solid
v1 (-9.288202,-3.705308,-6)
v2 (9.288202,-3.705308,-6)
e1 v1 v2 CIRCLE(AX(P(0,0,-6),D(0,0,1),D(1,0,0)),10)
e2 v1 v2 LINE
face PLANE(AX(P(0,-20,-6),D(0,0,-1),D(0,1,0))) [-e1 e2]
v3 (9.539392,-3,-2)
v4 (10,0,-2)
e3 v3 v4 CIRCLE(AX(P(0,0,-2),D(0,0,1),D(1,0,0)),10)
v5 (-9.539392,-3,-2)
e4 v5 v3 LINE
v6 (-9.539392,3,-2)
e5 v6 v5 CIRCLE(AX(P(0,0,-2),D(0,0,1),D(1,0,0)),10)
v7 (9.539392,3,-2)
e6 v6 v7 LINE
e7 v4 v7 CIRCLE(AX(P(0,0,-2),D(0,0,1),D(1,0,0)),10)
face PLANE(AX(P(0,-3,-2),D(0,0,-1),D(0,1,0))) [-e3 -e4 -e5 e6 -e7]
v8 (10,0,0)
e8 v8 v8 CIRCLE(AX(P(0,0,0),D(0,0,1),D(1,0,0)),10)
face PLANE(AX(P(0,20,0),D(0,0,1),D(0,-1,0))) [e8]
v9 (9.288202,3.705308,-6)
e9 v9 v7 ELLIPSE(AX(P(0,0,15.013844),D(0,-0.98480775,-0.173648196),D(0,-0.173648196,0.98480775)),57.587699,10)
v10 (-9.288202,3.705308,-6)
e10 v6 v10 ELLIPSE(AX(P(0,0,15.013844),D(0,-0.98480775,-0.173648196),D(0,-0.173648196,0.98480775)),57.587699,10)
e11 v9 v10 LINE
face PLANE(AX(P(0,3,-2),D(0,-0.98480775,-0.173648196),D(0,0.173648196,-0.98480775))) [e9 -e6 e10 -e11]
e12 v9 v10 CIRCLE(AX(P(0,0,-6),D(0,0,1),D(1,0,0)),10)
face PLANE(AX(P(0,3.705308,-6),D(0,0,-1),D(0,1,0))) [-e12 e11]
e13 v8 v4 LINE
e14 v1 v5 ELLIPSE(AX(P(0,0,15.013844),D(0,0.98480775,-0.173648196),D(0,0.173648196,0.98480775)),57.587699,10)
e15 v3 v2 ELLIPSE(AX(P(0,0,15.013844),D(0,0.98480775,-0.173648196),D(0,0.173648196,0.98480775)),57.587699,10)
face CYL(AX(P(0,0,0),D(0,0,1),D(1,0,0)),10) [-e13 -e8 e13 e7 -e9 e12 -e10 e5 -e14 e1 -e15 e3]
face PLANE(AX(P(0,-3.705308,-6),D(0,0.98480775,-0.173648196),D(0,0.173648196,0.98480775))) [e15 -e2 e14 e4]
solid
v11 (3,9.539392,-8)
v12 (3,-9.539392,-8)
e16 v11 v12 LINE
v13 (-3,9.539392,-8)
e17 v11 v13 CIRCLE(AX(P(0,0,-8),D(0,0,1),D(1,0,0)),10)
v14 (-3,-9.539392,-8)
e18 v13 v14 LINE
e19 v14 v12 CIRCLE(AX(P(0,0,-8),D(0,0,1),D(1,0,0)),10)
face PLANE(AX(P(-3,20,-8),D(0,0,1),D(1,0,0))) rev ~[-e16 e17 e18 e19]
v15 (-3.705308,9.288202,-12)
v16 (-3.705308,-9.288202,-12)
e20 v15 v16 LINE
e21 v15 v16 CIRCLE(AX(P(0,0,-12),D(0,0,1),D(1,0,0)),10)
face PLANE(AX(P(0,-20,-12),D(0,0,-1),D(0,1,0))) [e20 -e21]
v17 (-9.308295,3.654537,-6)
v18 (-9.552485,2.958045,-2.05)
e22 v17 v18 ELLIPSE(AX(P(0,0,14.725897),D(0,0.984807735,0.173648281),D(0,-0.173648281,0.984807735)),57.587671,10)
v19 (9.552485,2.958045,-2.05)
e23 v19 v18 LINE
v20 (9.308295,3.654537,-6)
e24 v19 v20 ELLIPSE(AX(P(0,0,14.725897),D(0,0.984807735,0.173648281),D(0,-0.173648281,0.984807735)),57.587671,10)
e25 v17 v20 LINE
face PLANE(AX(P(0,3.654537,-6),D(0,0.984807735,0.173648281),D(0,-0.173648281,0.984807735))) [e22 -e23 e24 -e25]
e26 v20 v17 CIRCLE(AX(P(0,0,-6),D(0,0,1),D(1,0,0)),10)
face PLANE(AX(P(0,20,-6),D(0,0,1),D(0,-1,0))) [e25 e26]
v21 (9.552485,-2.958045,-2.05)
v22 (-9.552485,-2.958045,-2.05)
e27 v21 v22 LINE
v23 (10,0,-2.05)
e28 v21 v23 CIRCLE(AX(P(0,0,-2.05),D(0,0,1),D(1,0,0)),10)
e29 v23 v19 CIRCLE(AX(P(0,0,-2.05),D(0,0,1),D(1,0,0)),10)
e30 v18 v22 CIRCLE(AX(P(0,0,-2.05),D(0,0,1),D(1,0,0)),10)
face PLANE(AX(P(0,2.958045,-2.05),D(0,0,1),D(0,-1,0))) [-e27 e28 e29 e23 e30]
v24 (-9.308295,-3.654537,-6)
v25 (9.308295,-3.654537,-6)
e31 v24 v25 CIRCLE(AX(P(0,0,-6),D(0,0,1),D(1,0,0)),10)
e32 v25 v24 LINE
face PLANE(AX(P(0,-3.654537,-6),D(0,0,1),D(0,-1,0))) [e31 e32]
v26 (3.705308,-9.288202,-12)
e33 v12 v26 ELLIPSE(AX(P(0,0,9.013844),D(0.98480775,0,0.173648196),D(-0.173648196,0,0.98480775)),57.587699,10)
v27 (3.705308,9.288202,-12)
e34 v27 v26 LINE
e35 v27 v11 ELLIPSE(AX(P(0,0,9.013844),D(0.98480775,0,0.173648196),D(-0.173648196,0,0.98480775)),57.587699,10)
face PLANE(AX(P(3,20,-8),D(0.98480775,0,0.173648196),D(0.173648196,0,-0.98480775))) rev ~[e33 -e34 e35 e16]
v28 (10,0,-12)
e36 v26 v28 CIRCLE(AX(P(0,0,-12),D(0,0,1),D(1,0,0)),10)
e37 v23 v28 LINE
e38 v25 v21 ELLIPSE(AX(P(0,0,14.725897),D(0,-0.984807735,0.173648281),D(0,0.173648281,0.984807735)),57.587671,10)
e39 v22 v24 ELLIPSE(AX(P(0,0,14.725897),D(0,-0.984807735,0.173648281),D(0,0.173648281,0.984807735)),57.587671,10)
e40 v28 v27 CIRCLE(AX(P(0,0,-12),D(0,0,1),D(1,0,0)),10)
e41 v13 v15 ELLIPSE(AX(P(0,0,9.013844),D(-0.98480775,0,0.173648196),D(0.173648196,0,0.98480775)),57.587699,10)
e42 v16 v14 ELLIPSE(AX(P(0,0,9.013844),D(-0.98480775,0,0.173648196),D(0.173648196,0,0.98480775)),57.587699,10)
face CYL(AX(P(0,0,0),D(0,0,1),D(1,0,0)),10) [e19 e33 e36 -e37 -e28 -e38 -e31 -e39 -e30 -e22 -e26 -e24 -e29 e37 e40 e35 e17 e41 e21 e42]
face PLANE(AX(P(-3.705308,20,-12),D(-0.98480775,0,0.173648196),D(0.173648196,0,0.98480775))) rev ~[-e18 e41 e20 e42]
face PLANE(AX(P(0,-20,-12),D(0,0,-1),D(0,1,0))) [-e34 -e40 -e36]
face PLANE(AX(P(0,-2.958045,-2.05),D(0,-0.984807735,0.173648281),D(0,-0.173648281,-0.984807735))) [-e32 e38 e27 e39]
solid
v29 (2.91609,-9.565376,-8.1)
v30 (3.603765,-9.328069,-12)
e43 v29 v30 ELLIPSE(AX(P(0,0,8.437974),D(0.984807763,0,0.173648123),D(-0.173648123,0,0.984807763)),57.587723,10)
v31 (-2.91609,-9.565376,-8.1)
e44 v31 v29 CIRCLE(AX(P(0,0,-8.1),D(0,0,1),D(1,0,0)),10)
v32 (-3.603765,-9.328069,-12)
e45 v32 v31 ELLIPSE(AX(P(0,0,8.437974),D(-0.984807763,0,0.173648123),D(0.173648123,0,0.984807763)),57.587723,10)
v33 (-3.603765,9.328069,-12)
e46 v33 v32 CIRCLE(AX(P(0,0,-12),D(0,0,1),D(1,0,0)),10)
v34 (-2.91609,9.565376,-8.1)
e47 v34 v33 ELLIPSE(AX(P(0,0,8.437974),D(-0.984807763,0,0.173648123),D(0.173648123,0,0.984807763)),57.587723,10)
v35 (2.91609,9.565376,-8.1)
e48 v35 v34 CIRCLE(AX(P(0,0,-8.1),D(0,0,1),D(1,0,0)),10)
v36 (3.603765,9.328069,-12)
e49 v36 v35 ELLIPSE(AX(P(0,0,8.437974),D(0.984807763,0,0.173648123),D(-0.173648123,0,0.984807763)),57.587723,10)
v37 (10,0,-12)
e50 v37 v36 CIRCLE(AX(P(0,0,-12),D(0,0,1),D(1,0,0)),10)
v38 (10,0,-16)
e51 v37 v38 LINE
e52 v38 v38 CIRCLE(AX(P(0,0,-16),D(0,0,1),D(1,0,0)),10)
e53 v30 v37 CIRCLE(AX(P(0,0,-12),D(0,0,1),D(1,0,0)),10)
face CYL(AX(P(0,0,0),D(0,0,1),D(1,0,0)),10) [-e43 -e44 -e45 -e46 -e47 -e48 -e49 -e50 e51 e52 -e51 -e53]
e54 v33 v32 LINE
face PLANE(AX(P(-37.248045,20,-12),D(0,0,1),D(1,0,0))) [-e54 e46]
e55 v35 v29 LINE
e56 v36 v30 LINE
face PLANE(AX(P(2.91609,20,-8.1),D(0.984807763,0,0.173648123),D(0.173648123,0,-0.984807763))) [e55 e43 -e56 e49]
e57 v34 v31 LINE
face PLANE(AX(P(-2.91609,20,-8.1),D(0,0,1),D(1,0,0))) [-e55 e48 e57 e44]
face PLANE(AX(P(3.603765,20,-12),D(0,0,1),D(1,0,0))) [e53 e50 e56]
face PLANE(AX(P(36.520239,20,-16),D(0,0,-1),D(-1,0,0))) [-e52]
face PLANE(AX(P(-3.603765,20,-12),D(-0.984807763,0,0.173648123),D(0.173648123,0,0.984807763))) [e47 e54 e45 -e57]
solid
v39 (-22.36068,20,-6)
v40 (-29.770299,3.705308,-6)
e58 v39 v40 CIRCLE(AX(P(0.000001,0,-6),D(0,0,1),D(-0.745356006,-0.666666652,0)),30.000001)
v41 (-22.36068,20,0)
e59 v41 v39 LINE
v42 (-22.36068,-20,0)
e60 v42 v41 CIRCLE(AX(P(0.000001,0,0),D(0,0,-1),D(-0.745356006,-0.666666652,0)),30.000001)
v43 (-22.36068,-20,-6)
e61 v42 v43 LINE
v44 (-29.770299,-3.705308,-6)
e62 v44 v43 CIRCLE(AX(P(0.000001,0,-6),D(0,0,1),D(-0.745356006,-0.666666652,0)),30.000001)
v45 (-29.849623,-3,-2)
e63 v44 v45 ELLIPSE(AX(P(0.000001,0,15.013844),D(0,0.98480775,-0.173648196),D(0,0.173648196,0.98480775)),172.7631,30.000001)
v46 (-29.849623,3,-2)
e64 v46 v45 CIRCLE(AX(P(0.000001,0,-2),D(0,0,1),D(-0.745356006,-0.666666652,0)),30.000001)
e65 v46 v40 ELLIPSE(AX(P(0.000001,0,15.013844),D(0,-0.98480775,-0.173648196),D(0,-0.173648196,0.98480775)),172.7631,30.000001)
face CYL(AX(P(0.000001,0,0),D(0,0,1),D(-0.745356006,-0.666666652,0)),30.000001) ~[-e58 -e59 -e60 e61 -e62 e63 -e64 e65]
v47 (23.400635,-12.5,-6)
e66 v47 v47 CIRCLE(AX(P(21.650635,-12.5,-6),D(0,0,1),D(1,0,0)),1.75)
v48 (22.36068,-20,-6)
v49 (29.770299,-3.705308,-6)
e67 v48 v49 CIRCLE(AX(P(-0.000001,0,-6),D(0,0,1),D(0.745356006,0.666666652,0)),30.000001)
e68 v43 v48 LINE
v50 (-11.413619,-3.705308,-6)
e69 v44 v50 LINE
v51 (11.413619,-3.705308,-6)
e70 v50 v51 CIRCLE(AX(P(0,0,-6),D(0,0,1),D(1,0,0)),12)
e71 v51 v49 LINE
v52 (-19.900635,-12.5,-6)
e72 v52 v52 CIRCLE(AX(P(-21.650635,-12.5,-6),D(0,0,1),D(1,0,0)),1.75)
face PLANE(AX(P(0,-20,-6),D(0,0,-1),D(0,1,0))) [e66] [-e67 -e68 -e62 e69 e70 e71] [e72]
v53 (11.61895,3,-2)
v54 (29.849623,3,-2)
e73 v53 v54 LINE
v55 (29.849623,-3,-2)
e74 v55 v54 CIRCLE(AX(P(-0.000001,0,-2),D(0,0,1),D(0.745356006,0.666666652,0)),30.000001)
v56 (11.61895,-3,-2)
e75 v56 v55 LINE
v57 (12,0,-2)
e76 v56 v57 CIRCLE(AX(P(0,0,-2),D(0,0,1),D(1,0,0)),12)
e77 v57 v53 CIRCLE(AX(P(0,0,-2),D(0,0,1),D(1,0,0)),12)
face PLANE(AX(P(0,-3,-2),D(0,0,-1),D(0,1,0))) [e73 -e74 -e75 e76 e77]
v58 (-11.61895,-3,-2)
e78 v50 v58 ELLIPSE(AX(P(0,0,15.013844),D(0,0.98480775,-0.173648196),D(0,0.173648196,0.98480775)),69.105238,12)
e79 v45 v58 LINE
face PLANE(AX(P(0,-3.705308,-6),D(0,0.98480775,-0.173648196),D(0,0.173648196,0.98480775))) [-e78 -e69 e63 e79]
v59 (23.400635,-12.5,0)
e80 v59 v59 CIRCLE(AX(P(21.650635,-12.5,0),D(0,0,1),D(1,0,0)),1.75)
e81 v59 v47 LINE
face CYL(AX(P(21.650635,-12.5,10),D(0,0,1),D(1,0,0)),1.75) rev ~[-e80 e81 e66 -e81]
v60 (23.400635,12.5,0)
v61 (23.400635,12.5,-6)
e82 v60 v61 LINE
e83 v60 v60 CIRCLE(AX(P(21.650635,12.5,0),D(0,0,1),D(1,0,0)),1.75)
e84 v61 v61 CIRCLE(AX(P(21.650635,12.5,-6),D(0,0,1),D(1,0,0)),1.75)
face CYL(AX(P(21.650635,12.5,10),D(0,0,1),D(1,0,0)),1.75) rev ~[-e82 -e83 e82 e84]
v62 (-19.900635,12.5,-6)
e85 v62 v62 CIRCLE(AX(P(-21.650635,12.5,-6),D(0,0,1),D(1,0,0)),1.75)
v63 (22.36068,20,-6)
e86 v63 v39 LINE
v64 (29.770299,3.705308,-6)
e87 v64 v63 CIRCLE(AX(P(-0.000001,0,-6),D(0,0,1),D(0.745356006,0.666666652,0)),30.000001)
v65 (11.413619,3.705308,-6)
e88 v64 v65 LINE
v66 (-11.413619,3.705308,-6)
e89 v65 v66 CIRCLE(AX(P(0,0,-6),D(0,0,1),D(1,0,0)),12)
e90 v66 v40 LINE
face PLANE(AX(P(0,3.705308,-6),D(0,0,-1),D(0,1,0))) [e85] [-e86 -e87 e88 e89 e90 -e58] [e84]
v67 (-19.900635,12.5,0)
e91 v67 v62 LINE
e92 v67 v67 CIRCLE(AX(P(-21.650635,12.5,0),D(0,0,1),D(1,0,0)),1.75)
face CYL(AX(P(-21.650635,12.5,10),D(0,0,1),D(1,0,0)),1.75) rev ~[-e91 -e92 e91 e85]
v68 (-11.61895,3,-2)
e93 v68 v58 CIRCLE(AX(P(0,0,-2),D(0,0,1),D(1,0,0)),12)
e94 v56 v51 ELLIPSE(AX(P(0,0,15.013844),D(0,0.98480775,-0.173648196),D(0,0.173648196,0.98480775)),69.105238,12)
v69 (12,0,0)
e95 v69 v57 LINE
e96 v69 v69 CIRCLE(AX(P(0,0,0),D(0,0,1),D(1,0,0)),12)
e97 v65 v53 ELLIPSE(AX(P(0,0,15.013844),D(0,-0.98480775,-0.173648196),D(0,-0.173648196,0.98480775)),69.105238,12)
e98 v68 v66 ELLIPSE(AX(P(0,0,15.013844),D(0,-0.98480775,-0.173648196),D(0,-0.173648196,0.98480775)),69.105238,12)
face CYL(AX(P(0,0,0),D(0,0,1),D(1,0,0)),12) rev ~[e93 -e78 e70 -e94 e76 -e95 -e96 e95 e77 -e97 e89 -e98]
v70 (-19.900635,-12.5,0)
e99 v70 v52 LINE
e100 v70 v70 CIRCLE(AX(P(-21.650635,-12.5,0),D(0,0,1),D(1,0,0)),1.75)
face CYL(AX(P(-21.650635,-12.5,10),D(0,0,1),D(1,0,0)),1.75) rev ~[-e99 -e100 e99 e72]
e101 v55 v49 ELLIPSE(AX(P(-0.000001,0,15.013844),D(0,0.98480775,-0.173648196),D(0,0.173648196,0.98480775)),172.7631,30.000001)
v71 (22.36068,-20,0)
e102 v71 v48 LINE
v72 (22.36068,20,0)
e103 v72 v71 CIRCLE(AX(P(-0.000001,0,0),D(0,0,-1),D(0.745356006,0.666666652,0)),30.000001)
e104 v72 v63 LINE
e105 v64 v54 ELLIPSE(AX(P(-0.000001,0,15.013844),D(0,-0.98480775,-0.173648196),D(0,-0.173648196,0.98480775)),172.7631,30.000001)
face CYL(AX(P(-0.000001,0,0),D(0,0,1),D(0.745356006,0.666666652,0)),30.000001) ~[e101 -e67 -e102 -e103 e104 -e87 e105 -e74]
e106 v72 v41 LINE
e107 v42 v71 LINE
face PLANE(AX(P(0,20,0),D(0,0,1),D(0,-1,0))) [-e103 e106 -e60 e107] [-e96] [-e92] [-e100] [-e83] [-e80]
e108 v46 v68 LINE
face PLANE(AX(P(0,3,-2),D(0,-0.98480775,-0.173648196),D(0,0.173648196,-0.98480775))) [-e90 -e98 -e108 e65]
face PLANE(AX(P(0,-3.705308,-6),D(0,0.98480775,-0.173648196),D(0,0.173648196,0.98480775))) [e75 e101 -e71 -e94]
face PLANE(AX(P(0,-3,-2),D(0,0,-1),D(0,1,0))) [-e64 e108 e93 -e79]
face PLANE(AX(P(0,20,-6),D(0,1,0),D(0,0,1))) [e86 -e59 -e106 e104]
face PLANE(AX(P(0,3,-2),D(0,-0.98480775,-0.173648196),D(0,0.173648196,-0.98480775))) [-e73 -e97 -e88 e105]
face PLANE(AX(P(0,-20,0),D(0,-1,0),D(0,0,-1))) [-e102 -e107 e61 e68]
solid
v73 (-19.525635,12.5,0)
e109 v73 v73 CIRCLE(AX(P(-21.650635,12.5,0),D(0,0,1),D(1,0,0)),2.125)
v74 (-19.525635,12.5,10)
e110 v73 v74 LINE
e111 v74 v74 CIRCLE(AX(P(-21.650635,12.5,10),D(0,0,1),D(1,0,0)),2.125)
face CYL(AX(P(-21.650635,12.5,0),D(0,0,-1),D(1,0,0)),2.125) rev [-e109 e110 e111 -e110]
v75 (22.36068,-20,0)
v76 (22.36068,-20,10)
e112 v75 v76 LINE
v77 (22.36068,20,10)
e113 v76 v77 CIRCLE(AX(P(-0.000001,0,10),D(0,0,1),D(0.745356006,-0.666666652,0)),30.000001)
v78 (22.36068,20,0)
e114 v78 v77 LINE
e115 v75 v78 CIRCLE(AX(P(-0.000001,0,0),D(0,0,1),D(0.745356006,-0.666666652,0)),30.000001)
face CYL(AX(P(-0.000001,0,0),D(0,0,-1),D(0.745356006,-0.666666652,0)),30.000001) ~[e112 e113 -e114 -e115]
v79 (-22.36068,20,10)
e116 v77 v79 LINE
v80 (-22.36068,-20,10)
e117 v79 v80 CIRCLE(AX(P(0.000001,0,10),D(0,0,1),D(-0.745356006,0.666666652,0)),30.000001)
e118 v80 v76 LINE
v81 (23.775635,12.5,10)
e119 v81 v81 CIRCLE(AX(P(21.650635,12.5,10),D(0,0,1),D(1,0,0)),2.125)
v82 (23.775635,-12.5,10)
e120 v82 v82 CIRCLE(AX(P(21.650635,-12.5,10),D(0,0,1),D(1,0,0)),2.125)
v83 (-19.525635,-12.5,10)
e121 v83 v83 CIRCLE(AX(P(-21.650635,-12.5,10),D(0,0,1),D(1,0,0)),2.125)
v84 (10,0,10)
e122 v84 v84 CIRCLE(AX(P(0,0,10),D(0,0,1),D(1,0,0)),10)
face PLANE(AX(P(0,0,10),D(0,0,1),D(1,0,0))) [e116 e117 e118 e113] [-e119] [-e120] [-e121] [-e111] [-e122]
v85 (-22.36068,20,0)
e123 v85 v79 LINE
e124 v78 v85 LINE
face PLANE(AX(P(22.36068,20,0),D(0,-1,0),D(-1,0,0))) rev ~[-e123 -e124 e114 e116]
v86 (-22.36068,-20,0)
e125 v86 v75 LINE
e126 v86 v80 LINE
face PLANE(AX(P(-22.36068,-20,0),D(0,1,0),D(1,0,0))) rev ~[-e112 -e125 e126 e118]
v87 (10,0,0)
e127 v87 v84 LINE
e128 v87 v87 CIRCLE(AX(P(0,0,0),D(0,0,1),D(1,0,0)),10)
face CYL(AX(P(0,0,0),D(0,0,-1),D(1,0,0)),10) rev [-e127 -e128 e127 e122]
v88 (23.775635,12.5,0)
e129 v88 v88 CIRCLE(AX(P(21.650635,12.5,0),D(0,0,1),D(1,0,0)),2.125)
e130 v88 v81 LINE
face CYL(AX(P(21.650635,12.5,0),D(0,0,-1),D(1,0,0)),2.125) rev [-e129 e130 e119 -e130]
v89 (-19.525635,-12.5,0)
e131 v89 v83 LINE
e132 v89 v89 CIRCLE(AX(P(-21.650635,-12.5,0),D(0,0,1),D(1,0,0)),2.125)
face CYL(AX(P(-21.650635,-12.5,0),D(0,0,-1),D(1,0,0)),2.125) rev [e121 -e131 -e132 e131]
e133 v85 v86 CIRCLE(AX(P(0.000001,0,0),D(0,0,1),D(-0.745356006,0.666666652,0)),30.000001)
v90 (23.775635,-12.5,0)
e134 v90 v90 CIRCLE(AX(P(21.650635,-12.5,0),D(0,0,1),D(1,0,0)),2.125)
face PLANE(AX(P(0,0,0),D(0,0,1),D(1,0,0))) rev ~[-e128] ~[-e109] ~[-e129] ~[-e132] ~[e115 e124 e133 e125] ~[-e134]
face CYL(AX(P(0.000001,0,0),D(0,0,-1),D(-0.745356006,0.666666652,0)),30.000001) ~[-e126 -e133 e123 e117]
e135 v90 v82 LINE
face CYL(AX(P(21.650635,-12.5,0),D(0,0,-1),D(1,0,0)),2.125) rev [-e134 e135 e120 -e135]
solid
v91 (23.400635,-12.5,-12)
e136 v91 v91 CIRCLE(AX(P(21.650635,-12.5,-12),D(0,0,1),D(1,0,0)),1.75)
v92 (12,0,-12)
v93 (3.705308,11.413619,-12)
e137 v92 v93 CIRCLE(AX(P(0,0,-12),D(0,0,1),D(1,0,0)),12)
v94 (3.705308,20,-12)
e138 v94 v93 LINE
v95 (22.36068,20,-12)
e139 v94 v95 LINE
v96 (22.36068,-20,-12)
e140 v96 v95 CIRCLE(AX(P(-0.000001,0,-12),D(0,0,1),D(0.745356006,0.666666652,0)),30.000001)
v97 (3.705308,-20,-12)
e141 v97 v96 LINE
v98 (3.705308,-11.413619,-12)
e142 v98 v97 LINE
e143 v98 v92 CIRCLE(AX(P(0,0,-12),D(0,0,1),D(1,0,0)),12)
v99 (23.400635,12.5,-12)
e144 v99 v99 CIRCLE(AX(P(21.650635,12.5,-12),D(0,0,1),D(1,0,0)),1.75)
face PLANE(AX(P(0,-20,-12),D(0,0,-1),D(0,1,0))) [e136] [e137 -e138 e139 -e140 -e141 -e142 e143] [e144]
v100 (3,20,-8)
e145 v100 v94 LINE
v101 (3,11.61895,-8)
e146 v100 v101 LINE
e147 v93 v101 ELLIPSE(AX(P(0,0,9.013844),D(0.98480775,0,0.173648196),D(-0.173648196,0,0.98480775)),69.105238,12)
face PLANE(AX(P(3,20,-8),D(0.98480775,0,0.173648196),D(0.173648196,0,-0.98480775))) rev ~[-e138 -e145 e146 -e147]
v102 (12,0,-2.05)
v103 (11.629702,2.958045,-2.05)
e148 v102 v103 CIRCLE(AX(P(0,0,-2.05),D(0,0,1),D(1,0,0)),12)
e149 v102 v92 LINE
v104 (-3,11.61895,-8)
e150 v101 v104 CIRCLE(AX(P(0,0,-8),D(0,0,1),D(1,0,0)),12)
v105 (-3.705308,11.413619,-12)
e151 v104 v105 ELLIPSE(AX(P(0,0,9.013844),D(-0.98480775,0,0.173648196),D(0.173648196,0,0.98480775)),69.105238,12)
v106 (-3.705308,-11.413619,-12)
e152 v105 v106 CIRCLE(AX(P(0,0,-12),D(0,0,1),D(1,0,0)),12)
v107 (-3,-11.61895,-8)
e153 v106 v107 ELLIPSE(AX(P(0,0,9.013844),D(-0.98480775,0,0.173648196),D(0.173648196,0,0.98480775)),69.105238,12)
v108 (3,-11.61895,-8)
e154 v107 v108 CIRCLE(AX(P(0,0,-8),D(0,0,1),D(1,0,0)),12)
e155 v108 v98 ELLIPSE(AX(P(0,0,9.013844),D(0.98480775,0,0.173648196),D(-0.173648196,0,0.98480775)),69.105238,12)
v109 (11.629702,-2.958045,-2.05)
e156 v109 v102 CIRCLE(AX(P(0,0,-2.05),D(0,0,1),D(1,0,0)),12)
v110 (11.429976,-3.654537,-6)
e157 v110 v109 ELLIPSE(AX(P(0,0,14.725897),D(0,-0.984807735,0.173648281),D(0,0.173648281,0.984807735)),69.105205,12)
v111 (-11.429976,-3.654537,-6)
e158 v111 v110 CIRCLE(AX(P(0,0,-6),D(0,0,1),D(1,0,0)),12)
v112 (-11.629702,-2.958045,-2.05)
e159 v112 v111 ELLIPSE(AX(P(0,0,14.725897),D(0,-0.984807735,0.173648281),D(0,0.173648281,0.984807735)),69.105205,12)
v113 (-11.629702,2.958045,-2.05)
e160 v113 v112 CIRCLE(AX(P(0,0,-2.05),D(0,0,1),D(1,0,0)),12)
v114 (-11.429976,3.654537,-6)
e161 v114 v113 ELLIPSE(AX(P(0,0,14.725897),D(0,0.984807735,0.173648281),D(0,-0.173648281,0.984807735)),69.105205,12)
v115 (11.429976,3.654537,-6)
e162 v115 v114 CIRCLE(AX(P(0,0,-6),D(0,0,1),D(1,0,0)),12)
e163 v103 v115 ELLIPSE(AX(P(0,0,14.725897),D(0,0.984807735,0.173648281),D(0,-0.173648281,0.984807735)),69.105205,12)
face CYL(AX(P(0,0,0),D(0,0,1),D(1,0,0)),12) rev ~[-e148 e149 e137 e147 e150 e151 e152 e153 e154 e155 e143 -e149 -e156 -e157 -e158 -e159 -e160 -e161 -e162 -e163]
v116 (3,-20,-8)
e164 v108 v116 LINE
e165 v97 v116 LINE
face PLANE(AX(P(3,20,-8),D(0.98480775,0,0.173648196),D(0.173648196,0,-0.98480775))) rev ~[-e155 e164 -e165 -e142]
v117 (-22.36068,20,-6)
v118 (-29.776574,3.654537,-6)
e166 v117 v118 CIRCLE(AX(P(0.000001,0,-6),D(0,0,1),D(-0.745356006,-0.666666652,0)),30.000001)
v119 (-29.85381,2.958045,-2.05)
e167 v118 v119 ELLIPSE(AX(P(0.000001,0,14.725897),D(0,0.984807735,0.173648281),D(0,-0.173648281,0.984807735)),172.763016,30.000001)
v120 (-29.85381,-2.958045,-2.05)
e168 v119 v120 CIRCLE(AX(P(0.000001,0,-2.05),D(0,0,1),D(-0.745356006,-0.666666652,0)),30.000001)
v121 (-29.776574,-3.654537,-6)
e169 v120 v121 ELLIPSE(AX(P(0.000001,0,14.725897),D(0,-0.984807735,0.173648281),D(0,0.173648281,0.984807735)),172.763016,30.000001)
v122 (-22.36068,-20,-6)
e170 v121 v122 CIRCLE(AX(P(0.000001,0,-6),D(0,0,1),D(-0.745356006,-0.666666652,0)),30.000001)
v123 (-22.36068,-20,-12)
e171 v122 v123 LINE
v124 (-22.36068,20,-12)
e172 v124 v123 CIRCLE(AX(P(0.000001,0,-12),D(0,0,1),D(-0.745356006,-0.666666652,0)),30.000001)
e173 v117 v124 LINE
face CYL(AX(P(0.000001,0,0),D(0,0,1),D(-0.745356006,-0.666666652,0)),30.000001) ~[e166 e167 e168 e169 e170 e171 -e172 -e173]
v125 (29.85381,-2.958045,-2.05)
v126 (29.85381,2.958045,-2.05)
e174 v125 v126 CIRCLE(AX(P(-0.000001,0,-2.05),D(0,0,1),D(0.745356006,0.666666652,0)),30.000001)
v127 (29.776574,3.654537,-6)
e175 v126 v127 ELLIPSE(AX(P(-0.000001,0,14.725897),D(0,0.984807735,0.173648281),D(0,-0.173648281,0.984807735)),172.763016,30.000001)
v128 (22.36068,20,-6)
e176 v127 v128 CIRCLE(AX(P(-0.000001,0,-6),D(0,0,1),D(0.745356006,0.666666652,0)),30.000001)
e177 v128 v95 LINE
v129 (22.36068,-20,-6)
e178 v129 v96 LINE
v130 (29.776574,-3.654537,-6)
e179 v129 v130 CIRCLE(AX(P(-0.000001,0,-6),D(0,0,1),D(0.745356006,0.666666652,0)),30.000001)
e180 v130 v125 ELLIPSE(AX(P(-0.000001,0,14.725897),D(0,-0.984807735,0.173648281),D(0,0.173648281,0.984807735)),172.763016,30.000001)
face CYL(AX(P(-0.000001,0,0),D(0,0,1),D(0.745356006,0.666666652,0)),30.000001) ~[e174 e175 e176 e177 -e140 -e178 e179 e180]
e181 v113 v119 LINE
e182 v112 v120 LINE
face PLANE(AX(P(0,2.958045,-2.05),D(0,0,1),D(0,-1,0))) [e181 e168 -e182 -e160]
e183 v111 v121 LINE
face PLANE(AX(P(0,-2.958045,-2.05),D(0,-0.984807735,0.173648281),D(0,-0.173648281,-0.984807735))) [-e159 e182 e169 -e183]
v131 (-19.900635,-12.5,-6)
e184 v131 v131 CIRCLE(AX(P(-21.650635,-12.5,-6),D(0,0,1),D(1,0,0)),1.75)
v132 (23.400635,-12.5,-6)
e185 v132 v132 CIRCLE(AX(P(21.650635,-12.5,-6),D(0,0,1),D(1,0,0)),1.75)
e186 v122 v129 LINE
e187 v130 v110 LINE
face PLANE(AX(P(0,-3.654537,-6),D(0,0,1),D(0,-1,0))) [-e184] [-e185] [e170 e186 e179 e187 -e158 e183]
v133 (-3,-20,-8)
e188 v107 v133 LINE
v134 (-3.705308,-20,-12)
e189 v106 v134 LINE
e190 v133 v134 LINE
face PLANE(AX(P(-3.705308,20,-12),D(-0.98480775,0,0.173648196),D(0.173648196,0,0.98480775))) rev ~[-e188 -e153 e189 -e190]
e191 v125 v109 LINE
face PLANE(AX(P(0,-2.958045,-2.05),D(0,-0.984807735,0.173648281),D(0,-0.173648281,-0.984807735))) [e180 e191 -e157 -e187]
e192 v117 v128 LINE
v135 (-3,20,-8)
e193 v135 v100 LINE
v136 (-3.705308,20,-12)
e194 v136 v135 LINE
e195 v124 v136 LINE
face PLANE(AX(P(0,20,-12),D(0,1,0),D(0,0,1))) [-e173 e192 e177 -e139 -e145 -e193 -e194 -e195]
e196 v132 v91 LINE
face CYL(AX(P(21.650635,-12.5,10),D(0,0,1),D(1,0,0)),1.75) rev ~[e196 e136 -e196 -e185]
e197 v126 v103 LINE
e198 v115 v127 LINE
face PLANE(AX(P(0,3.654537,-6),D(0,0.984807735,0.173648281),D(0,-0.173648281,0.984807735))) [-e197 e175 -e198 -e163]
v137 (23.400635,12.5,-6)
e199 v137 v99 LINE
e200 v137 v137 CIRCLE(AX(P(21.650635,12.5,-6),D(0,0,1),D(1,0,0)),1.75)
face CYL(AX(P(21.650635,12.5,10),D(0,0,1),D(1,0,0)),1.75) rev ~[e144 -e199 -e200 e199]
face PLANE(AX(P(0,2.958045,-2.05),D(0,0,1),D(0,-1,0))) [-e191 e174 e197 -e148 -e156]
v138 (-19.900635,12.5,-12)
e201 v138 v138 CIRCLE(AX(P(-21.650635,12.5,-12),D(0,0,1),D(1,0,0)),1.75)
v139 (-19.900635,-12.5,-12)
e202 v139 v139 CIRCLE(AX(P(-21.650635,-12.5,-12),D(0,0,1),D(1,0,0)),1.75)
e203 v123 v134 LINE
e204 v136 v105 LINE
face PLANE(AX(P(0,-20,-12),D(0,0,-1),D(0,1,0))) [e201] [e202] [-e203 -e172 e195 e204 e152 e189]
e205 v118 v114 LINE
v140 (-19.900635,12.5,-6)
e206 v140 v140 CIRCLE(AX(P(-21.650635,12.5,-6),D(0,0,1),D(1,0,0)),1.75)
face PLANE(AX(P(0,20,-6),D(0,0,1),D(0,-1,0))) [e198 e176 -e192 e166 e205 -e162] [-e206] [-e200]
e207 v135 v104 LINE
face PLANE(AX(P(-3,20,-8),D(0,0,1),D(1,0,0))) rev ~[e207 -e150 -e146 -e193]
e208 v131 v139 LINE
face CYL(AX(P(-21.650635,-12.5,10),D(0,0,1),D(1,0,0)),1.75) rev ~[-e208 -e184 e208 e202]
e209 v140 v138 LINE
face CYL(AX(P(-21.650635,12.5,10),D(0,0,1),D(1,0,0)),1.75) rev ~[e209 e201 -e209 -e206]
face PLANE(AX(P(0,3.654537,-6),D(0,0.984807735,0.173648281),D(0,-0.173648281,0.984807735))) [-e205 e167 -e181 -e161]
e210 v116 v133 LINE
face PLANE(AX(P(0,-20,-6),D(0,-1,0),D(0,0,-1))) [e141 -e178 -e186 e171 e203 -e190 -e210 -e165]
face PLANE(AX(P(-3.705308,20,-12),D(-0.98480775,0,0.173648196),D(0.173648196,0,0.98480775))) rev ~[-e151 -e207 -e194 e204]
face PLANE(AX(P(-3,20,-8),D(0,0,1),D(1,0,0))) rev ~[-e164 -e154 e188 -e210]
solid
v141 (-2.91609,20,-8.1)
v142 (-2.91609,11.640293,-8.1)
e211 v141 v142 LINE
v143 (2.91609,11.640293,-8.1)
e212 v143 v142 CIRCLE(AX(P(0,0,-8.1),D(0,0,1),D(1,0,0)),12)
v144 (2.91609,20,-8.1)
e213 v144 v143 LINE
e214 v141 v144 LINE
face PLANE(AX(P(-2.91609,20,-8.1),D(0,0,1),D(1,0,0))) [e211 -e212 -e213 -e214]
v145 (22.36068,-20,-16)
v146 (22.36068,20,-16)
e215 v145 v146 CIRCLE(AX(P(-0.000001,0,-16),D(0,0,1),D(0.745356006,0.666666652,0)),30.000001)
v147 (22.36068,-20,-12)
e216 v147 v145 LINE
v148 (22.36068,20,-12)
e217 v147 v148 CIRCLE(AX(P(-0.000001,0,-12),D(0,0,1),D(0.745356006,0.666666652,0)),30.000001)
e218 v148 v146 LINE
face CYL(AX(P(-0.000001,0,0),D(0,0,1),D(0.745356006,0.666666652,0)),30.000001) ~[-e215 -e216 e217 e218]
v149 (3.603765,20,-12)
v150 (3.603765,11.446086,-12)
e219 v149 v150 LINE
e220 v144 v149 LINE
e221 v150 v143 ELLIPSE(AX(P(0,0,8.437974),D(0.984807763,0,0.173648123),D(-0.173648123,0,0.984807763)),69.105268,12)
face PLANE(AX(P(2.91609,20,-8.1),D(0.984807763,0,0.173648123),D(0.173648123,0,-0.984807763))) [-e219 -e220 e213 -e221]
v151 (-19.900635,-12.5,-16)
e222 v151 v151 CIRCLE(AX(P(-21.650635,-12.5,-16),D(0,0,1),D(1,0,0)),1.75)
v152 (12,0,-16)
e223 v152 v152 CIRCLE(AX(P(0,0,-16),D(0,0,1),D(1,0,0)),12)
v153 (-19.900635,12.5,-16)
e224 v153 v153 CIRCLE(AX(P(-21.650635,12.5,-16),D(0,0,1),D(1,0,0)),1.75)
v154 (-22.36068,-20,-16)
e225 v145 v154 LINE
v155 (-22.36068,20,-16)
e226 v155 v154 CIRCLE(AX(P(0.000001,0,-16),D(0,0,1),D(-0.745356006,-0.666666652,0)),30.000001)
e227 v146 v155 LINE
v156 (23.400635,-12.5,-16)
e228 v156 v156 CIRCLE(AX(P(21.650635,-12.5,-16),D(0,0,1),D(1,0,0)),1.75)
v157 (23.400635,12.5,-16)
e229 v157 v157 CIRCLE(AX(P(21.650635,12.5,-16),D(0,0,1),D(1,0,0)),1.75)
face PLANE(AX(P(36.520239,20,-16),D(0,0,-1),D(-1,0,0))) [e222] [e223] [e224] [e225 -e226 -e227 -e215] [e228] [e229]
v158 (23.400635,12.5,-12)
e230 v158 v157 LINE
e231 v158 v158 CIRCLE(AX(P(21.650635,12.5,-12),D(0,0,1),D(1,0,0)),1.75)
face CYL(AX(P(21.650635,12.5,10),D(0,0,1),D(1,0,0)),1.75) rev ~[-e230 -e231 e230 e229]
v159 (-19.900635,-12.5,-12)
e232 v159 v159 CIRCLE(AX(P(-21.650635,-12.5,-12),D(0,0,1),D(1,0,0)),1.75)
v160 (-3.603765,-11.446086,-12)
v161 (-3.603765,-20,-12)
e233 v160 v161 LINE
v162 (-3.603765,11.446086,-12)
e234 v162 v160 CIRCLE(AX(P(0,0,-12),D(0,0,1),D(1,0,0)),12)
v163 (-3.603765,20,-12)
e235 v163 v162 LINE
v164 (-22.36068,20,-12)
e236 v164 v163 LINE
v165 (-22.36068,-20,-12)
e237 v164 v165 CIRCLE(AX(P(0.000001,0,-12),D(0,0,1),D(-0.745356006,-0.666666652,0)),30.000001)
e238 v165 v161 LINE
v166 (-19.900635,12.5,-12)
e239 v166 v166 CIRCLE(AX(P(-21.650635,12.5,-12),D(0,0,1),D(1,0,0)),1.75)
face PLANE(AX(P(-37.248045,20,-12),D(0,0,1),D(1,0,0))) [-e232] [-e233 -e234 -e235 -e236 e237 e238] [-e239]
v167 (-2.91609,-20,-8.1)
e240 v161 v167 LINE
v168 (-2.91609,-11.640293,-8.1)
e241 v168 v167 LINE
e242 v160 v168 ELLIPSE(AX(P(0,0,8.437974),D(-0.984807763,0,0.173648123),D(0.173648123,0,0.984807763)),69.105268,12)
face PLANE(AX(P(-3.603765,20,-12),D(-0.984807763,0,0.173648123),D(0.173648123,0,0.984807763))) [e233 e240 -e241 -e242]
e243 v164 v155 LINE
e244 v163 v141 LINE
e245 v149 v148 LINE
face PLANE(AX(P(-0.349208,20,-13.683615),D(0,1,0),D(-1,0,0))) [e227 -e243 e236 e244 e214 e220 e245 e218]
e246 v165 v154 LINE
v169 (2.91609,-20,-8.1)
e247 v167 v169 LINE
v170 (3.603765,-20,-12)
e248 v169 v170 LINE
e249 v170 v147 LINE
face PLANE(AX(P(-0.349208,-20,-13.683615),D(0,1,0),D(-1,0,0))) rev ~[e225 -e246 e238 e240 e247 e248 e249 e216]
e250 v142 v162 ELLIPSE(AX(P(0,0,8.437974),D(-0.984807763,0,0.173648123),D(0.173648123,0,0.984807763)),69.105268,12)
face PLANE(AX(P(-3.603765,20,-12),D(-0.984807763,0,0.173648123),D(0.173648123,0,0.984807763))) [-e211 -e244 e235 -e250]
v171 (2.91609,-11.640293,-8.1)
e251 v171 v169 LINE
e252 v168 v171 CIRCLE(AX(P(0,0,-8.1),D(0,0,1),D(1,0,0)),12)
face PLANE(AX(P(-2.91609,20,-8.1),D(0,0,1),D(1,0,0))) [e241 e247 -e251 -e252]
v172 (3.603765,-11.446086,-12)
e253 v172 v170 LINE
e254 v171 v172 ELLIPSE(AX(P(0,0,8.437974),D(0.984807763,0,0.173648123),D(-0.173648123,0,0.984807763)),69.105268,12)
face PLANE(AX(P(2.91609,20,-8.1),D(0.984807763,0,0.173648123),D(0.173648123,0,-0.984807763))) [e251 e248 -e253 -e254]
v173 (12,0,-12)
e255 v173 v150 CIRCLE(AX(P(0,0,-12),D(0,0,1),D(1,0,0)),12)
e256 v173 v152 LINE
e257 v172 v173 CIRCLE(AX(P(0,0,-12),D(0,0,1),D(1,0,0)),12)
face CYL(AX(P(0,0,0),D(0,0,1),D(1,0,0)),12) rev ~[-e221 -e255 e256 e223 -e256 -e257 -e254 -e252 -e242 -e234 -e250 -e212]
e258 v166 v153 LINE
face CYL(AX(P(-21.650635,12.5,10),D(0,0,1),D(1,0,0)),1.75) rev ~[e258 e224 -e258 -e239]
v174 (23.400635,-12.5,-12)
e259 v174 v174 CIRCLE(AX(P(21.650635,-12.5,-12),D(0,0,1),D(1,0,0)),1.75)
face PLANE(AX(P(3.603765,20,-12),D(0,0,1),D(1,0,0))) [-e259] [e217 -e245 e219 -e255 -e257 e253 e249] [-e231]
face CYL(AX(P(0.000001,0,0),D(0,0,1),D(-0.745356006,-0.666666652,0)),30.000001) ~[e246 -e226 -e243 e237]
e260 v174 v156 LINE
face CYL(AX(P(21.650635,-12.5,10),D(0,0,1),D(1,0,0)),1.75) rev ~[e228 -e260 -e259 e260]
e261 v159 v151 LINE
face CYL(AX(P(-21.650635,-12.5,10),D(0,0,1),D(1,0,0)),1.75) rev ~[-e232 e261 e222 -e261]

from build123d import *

# Parameters (mm, degrees)
F0_R          = 2.125
F0_R_2        = 10
F1_DEPTH      = 10
F3_DEPTH      = 50
F3_DEPTH_BACK = 50
F6_DEPTH      = 50
F6_DEPTH_BACK = 50
F8_DEPTH      = 40.001
F10_DEPTH     = 40
F4_R          = 12
F4_R_2        = 10
F11_DEPTH     = 25
F12_R         = 1.75
F13_DEPTH     = 50


with BuildPart() as f1:
    # F0 (on Top) → F1 (new body)
    with BuildSketch(Plane.XY):
        with BuildLine():
            Line((22.36068, 20), (-22.36068, 20))
            ThreePointArc((-22.36068, 20), (-30, 0), (-22.36068, -20))
            Line((-22.36068, -20), (22.36068, -20))
            ThreePointArc((22.36068, -20), (30, 0), (22.36068, 20))
        make_face()
        with Locations((-21.650635, -12.5)):
            Circle(F0_R, mode=Mode.SUBTRACT)
        with Locations((21.650635, -12.5)):
            Circle(F0_R, mode=Mode.SUBTRACT)
        Circle(F0_R_2, mode=Mode.SUBTRACT)
        with Locations((-21.650635, 12.5)):
            Circle(F0_R, mode=Mode.SUBTRACT)
        with Locations((21.650635, 12.5)):
            Circle(F0_R, mode=Mode.SUBTRACT)
    extrude(amount=F1_DEPTH)


with BuildPart() as f3:
    # F2 (on Right) → F3 (new body, two sides)
    with BuildSketch(Plane.YZ) as f3_sk:
        Polygon((20, 0), (-20, 0), (-20, -6), (-3.705308, -6), (-3, -2), (3, -2), (3.705308, -6), (20, -6), align=None)
    extrude(amount=F3_DEPTH)
    extrude(f3_sk.sketch, amount=-F3_DEPTH_BACK)


with BuildPart() as f6:
    # F5 (on Right) → F6 (new body, two sides)
    with BuildSketch(Plane.YZ) as f6_sk:
        Polygon((-3.654537, -6), (-20, -6), (-20, -12), (20, -12), (20, -6), (3.654537, -6), (2.958045, -2.05), (-2.958045, -2.05), align=None)
    extrude(amount=F6_DEPTH)
    extrude(f6_sk.sketch, amount=-F6_DEPTH_BACK)

    # F7 (on face) → F8 (cut, through all)
    with BuildSketch(Plane(origin=(0, 20, 0), x_dir=(-1, 0, 0), z_dir=(0, 1, 0))):
        Polygon((-3, -8), (-3.705308, -12), (3.705308, -12), (3, -8), align=None)
    extrude(amount=-F8_DEPTH, mode=Mode.SUBTRACT)


with BuildPart() as f10:
    # F9 (on face) → F10 (new body)
    with BuildSketch(Plane(origin=(0, 20, 0), x_dir=(-1, 0, 0), z_dir=(0, 1, 0))):
        Polygon((-3.603765, -12), (-36.520239, -12), (-36.520239, -16), (37.248045, -16), (37.248045, -12), (3.603765, -12), (2.91609, -8.1), (-2.91609, -8.1), align=None)
    extrude(amount=-F10_DEPTH)


with BuildPart() as f11_tool:
    # F4 (on face) → F11 (new body)
    with BuildSketch(Plane.XY):
        with BuildLine():
            ThreePointArc((22.36068, 20), (30, 0), (22.36068, -20))
            Line((22.36068, -20), (50, -20))
            Line((50, -20), (50, 20))
            Line((50, 20), (22.36068, 20))
        make_face()
        with BuildLine():
            ThreePointArc((-22.36068, -20), (-30, 0), (-22.36068, 20))
            Line((-22.36068, 20), (-50, 20))
            Line((-50, 20), (-50, -20))
            Line((-50, -20), (-22.36068, -20))
        make_face()
        Circle(F4_R)
        Circle(F4_R_2, mode=Mode.SUBTRACT)
    extrude(amount=-F11_DEPTH)


with BuildPart() as f3_1:
    add(f3.part)

    # F11: cut by f11_tool
    add(f11_tool.part, mode=Mode.SUBTRACT)


with BuildPart() as f6_1:
    add(f6.part)

    # F11: cut by f11_tool
    add(f11_tool.part, mode=Mode.SUBTRACT)


with BuildPart() as f10_1:
    add(f10.part)

    # F11: cut by f11_tool
    add(f11_tool.part, mode=Mode.SUBTRACT)


with BuildPart() as f13_tool:
    # F12 (on face) → F13 (new body)
    with BuildSketch(Plane.XY.offset(10)):
        with Locations((21.650635, -12.5)):
            Circle(F12_R)
        with Locations((21.650635, 12.5)):
            Circle(F12_R)
        with Locations((-21.650635, -12.5)):
            Circle(F12_R)
        with Locations((-21.650635, 12.5)):
            Circle(F12_R)
    extrude(amount=-F13_DEPTH)


with BuildPart() as f3_2:
    add(f3_1.part)

    # F13: cut by f13_tool
    add(f13_tool.part, mode=Mode.SUBTRACT)


with BuildPart() as f6_2:
    add(f6_1.part)

    # F13: cut by f13_tool
    add(f13_tool.part, mode=Mode.SUBTRACT)


with BuildPart() as f10_2:
    add(f10_1.part)

    # F13: cut by f13_tool
    add(f13_tool.part, mode=Mode.SUBTRACT)


solid = Compound([f1.part, f3_2.part, f6_2.part, f10_2.part])
